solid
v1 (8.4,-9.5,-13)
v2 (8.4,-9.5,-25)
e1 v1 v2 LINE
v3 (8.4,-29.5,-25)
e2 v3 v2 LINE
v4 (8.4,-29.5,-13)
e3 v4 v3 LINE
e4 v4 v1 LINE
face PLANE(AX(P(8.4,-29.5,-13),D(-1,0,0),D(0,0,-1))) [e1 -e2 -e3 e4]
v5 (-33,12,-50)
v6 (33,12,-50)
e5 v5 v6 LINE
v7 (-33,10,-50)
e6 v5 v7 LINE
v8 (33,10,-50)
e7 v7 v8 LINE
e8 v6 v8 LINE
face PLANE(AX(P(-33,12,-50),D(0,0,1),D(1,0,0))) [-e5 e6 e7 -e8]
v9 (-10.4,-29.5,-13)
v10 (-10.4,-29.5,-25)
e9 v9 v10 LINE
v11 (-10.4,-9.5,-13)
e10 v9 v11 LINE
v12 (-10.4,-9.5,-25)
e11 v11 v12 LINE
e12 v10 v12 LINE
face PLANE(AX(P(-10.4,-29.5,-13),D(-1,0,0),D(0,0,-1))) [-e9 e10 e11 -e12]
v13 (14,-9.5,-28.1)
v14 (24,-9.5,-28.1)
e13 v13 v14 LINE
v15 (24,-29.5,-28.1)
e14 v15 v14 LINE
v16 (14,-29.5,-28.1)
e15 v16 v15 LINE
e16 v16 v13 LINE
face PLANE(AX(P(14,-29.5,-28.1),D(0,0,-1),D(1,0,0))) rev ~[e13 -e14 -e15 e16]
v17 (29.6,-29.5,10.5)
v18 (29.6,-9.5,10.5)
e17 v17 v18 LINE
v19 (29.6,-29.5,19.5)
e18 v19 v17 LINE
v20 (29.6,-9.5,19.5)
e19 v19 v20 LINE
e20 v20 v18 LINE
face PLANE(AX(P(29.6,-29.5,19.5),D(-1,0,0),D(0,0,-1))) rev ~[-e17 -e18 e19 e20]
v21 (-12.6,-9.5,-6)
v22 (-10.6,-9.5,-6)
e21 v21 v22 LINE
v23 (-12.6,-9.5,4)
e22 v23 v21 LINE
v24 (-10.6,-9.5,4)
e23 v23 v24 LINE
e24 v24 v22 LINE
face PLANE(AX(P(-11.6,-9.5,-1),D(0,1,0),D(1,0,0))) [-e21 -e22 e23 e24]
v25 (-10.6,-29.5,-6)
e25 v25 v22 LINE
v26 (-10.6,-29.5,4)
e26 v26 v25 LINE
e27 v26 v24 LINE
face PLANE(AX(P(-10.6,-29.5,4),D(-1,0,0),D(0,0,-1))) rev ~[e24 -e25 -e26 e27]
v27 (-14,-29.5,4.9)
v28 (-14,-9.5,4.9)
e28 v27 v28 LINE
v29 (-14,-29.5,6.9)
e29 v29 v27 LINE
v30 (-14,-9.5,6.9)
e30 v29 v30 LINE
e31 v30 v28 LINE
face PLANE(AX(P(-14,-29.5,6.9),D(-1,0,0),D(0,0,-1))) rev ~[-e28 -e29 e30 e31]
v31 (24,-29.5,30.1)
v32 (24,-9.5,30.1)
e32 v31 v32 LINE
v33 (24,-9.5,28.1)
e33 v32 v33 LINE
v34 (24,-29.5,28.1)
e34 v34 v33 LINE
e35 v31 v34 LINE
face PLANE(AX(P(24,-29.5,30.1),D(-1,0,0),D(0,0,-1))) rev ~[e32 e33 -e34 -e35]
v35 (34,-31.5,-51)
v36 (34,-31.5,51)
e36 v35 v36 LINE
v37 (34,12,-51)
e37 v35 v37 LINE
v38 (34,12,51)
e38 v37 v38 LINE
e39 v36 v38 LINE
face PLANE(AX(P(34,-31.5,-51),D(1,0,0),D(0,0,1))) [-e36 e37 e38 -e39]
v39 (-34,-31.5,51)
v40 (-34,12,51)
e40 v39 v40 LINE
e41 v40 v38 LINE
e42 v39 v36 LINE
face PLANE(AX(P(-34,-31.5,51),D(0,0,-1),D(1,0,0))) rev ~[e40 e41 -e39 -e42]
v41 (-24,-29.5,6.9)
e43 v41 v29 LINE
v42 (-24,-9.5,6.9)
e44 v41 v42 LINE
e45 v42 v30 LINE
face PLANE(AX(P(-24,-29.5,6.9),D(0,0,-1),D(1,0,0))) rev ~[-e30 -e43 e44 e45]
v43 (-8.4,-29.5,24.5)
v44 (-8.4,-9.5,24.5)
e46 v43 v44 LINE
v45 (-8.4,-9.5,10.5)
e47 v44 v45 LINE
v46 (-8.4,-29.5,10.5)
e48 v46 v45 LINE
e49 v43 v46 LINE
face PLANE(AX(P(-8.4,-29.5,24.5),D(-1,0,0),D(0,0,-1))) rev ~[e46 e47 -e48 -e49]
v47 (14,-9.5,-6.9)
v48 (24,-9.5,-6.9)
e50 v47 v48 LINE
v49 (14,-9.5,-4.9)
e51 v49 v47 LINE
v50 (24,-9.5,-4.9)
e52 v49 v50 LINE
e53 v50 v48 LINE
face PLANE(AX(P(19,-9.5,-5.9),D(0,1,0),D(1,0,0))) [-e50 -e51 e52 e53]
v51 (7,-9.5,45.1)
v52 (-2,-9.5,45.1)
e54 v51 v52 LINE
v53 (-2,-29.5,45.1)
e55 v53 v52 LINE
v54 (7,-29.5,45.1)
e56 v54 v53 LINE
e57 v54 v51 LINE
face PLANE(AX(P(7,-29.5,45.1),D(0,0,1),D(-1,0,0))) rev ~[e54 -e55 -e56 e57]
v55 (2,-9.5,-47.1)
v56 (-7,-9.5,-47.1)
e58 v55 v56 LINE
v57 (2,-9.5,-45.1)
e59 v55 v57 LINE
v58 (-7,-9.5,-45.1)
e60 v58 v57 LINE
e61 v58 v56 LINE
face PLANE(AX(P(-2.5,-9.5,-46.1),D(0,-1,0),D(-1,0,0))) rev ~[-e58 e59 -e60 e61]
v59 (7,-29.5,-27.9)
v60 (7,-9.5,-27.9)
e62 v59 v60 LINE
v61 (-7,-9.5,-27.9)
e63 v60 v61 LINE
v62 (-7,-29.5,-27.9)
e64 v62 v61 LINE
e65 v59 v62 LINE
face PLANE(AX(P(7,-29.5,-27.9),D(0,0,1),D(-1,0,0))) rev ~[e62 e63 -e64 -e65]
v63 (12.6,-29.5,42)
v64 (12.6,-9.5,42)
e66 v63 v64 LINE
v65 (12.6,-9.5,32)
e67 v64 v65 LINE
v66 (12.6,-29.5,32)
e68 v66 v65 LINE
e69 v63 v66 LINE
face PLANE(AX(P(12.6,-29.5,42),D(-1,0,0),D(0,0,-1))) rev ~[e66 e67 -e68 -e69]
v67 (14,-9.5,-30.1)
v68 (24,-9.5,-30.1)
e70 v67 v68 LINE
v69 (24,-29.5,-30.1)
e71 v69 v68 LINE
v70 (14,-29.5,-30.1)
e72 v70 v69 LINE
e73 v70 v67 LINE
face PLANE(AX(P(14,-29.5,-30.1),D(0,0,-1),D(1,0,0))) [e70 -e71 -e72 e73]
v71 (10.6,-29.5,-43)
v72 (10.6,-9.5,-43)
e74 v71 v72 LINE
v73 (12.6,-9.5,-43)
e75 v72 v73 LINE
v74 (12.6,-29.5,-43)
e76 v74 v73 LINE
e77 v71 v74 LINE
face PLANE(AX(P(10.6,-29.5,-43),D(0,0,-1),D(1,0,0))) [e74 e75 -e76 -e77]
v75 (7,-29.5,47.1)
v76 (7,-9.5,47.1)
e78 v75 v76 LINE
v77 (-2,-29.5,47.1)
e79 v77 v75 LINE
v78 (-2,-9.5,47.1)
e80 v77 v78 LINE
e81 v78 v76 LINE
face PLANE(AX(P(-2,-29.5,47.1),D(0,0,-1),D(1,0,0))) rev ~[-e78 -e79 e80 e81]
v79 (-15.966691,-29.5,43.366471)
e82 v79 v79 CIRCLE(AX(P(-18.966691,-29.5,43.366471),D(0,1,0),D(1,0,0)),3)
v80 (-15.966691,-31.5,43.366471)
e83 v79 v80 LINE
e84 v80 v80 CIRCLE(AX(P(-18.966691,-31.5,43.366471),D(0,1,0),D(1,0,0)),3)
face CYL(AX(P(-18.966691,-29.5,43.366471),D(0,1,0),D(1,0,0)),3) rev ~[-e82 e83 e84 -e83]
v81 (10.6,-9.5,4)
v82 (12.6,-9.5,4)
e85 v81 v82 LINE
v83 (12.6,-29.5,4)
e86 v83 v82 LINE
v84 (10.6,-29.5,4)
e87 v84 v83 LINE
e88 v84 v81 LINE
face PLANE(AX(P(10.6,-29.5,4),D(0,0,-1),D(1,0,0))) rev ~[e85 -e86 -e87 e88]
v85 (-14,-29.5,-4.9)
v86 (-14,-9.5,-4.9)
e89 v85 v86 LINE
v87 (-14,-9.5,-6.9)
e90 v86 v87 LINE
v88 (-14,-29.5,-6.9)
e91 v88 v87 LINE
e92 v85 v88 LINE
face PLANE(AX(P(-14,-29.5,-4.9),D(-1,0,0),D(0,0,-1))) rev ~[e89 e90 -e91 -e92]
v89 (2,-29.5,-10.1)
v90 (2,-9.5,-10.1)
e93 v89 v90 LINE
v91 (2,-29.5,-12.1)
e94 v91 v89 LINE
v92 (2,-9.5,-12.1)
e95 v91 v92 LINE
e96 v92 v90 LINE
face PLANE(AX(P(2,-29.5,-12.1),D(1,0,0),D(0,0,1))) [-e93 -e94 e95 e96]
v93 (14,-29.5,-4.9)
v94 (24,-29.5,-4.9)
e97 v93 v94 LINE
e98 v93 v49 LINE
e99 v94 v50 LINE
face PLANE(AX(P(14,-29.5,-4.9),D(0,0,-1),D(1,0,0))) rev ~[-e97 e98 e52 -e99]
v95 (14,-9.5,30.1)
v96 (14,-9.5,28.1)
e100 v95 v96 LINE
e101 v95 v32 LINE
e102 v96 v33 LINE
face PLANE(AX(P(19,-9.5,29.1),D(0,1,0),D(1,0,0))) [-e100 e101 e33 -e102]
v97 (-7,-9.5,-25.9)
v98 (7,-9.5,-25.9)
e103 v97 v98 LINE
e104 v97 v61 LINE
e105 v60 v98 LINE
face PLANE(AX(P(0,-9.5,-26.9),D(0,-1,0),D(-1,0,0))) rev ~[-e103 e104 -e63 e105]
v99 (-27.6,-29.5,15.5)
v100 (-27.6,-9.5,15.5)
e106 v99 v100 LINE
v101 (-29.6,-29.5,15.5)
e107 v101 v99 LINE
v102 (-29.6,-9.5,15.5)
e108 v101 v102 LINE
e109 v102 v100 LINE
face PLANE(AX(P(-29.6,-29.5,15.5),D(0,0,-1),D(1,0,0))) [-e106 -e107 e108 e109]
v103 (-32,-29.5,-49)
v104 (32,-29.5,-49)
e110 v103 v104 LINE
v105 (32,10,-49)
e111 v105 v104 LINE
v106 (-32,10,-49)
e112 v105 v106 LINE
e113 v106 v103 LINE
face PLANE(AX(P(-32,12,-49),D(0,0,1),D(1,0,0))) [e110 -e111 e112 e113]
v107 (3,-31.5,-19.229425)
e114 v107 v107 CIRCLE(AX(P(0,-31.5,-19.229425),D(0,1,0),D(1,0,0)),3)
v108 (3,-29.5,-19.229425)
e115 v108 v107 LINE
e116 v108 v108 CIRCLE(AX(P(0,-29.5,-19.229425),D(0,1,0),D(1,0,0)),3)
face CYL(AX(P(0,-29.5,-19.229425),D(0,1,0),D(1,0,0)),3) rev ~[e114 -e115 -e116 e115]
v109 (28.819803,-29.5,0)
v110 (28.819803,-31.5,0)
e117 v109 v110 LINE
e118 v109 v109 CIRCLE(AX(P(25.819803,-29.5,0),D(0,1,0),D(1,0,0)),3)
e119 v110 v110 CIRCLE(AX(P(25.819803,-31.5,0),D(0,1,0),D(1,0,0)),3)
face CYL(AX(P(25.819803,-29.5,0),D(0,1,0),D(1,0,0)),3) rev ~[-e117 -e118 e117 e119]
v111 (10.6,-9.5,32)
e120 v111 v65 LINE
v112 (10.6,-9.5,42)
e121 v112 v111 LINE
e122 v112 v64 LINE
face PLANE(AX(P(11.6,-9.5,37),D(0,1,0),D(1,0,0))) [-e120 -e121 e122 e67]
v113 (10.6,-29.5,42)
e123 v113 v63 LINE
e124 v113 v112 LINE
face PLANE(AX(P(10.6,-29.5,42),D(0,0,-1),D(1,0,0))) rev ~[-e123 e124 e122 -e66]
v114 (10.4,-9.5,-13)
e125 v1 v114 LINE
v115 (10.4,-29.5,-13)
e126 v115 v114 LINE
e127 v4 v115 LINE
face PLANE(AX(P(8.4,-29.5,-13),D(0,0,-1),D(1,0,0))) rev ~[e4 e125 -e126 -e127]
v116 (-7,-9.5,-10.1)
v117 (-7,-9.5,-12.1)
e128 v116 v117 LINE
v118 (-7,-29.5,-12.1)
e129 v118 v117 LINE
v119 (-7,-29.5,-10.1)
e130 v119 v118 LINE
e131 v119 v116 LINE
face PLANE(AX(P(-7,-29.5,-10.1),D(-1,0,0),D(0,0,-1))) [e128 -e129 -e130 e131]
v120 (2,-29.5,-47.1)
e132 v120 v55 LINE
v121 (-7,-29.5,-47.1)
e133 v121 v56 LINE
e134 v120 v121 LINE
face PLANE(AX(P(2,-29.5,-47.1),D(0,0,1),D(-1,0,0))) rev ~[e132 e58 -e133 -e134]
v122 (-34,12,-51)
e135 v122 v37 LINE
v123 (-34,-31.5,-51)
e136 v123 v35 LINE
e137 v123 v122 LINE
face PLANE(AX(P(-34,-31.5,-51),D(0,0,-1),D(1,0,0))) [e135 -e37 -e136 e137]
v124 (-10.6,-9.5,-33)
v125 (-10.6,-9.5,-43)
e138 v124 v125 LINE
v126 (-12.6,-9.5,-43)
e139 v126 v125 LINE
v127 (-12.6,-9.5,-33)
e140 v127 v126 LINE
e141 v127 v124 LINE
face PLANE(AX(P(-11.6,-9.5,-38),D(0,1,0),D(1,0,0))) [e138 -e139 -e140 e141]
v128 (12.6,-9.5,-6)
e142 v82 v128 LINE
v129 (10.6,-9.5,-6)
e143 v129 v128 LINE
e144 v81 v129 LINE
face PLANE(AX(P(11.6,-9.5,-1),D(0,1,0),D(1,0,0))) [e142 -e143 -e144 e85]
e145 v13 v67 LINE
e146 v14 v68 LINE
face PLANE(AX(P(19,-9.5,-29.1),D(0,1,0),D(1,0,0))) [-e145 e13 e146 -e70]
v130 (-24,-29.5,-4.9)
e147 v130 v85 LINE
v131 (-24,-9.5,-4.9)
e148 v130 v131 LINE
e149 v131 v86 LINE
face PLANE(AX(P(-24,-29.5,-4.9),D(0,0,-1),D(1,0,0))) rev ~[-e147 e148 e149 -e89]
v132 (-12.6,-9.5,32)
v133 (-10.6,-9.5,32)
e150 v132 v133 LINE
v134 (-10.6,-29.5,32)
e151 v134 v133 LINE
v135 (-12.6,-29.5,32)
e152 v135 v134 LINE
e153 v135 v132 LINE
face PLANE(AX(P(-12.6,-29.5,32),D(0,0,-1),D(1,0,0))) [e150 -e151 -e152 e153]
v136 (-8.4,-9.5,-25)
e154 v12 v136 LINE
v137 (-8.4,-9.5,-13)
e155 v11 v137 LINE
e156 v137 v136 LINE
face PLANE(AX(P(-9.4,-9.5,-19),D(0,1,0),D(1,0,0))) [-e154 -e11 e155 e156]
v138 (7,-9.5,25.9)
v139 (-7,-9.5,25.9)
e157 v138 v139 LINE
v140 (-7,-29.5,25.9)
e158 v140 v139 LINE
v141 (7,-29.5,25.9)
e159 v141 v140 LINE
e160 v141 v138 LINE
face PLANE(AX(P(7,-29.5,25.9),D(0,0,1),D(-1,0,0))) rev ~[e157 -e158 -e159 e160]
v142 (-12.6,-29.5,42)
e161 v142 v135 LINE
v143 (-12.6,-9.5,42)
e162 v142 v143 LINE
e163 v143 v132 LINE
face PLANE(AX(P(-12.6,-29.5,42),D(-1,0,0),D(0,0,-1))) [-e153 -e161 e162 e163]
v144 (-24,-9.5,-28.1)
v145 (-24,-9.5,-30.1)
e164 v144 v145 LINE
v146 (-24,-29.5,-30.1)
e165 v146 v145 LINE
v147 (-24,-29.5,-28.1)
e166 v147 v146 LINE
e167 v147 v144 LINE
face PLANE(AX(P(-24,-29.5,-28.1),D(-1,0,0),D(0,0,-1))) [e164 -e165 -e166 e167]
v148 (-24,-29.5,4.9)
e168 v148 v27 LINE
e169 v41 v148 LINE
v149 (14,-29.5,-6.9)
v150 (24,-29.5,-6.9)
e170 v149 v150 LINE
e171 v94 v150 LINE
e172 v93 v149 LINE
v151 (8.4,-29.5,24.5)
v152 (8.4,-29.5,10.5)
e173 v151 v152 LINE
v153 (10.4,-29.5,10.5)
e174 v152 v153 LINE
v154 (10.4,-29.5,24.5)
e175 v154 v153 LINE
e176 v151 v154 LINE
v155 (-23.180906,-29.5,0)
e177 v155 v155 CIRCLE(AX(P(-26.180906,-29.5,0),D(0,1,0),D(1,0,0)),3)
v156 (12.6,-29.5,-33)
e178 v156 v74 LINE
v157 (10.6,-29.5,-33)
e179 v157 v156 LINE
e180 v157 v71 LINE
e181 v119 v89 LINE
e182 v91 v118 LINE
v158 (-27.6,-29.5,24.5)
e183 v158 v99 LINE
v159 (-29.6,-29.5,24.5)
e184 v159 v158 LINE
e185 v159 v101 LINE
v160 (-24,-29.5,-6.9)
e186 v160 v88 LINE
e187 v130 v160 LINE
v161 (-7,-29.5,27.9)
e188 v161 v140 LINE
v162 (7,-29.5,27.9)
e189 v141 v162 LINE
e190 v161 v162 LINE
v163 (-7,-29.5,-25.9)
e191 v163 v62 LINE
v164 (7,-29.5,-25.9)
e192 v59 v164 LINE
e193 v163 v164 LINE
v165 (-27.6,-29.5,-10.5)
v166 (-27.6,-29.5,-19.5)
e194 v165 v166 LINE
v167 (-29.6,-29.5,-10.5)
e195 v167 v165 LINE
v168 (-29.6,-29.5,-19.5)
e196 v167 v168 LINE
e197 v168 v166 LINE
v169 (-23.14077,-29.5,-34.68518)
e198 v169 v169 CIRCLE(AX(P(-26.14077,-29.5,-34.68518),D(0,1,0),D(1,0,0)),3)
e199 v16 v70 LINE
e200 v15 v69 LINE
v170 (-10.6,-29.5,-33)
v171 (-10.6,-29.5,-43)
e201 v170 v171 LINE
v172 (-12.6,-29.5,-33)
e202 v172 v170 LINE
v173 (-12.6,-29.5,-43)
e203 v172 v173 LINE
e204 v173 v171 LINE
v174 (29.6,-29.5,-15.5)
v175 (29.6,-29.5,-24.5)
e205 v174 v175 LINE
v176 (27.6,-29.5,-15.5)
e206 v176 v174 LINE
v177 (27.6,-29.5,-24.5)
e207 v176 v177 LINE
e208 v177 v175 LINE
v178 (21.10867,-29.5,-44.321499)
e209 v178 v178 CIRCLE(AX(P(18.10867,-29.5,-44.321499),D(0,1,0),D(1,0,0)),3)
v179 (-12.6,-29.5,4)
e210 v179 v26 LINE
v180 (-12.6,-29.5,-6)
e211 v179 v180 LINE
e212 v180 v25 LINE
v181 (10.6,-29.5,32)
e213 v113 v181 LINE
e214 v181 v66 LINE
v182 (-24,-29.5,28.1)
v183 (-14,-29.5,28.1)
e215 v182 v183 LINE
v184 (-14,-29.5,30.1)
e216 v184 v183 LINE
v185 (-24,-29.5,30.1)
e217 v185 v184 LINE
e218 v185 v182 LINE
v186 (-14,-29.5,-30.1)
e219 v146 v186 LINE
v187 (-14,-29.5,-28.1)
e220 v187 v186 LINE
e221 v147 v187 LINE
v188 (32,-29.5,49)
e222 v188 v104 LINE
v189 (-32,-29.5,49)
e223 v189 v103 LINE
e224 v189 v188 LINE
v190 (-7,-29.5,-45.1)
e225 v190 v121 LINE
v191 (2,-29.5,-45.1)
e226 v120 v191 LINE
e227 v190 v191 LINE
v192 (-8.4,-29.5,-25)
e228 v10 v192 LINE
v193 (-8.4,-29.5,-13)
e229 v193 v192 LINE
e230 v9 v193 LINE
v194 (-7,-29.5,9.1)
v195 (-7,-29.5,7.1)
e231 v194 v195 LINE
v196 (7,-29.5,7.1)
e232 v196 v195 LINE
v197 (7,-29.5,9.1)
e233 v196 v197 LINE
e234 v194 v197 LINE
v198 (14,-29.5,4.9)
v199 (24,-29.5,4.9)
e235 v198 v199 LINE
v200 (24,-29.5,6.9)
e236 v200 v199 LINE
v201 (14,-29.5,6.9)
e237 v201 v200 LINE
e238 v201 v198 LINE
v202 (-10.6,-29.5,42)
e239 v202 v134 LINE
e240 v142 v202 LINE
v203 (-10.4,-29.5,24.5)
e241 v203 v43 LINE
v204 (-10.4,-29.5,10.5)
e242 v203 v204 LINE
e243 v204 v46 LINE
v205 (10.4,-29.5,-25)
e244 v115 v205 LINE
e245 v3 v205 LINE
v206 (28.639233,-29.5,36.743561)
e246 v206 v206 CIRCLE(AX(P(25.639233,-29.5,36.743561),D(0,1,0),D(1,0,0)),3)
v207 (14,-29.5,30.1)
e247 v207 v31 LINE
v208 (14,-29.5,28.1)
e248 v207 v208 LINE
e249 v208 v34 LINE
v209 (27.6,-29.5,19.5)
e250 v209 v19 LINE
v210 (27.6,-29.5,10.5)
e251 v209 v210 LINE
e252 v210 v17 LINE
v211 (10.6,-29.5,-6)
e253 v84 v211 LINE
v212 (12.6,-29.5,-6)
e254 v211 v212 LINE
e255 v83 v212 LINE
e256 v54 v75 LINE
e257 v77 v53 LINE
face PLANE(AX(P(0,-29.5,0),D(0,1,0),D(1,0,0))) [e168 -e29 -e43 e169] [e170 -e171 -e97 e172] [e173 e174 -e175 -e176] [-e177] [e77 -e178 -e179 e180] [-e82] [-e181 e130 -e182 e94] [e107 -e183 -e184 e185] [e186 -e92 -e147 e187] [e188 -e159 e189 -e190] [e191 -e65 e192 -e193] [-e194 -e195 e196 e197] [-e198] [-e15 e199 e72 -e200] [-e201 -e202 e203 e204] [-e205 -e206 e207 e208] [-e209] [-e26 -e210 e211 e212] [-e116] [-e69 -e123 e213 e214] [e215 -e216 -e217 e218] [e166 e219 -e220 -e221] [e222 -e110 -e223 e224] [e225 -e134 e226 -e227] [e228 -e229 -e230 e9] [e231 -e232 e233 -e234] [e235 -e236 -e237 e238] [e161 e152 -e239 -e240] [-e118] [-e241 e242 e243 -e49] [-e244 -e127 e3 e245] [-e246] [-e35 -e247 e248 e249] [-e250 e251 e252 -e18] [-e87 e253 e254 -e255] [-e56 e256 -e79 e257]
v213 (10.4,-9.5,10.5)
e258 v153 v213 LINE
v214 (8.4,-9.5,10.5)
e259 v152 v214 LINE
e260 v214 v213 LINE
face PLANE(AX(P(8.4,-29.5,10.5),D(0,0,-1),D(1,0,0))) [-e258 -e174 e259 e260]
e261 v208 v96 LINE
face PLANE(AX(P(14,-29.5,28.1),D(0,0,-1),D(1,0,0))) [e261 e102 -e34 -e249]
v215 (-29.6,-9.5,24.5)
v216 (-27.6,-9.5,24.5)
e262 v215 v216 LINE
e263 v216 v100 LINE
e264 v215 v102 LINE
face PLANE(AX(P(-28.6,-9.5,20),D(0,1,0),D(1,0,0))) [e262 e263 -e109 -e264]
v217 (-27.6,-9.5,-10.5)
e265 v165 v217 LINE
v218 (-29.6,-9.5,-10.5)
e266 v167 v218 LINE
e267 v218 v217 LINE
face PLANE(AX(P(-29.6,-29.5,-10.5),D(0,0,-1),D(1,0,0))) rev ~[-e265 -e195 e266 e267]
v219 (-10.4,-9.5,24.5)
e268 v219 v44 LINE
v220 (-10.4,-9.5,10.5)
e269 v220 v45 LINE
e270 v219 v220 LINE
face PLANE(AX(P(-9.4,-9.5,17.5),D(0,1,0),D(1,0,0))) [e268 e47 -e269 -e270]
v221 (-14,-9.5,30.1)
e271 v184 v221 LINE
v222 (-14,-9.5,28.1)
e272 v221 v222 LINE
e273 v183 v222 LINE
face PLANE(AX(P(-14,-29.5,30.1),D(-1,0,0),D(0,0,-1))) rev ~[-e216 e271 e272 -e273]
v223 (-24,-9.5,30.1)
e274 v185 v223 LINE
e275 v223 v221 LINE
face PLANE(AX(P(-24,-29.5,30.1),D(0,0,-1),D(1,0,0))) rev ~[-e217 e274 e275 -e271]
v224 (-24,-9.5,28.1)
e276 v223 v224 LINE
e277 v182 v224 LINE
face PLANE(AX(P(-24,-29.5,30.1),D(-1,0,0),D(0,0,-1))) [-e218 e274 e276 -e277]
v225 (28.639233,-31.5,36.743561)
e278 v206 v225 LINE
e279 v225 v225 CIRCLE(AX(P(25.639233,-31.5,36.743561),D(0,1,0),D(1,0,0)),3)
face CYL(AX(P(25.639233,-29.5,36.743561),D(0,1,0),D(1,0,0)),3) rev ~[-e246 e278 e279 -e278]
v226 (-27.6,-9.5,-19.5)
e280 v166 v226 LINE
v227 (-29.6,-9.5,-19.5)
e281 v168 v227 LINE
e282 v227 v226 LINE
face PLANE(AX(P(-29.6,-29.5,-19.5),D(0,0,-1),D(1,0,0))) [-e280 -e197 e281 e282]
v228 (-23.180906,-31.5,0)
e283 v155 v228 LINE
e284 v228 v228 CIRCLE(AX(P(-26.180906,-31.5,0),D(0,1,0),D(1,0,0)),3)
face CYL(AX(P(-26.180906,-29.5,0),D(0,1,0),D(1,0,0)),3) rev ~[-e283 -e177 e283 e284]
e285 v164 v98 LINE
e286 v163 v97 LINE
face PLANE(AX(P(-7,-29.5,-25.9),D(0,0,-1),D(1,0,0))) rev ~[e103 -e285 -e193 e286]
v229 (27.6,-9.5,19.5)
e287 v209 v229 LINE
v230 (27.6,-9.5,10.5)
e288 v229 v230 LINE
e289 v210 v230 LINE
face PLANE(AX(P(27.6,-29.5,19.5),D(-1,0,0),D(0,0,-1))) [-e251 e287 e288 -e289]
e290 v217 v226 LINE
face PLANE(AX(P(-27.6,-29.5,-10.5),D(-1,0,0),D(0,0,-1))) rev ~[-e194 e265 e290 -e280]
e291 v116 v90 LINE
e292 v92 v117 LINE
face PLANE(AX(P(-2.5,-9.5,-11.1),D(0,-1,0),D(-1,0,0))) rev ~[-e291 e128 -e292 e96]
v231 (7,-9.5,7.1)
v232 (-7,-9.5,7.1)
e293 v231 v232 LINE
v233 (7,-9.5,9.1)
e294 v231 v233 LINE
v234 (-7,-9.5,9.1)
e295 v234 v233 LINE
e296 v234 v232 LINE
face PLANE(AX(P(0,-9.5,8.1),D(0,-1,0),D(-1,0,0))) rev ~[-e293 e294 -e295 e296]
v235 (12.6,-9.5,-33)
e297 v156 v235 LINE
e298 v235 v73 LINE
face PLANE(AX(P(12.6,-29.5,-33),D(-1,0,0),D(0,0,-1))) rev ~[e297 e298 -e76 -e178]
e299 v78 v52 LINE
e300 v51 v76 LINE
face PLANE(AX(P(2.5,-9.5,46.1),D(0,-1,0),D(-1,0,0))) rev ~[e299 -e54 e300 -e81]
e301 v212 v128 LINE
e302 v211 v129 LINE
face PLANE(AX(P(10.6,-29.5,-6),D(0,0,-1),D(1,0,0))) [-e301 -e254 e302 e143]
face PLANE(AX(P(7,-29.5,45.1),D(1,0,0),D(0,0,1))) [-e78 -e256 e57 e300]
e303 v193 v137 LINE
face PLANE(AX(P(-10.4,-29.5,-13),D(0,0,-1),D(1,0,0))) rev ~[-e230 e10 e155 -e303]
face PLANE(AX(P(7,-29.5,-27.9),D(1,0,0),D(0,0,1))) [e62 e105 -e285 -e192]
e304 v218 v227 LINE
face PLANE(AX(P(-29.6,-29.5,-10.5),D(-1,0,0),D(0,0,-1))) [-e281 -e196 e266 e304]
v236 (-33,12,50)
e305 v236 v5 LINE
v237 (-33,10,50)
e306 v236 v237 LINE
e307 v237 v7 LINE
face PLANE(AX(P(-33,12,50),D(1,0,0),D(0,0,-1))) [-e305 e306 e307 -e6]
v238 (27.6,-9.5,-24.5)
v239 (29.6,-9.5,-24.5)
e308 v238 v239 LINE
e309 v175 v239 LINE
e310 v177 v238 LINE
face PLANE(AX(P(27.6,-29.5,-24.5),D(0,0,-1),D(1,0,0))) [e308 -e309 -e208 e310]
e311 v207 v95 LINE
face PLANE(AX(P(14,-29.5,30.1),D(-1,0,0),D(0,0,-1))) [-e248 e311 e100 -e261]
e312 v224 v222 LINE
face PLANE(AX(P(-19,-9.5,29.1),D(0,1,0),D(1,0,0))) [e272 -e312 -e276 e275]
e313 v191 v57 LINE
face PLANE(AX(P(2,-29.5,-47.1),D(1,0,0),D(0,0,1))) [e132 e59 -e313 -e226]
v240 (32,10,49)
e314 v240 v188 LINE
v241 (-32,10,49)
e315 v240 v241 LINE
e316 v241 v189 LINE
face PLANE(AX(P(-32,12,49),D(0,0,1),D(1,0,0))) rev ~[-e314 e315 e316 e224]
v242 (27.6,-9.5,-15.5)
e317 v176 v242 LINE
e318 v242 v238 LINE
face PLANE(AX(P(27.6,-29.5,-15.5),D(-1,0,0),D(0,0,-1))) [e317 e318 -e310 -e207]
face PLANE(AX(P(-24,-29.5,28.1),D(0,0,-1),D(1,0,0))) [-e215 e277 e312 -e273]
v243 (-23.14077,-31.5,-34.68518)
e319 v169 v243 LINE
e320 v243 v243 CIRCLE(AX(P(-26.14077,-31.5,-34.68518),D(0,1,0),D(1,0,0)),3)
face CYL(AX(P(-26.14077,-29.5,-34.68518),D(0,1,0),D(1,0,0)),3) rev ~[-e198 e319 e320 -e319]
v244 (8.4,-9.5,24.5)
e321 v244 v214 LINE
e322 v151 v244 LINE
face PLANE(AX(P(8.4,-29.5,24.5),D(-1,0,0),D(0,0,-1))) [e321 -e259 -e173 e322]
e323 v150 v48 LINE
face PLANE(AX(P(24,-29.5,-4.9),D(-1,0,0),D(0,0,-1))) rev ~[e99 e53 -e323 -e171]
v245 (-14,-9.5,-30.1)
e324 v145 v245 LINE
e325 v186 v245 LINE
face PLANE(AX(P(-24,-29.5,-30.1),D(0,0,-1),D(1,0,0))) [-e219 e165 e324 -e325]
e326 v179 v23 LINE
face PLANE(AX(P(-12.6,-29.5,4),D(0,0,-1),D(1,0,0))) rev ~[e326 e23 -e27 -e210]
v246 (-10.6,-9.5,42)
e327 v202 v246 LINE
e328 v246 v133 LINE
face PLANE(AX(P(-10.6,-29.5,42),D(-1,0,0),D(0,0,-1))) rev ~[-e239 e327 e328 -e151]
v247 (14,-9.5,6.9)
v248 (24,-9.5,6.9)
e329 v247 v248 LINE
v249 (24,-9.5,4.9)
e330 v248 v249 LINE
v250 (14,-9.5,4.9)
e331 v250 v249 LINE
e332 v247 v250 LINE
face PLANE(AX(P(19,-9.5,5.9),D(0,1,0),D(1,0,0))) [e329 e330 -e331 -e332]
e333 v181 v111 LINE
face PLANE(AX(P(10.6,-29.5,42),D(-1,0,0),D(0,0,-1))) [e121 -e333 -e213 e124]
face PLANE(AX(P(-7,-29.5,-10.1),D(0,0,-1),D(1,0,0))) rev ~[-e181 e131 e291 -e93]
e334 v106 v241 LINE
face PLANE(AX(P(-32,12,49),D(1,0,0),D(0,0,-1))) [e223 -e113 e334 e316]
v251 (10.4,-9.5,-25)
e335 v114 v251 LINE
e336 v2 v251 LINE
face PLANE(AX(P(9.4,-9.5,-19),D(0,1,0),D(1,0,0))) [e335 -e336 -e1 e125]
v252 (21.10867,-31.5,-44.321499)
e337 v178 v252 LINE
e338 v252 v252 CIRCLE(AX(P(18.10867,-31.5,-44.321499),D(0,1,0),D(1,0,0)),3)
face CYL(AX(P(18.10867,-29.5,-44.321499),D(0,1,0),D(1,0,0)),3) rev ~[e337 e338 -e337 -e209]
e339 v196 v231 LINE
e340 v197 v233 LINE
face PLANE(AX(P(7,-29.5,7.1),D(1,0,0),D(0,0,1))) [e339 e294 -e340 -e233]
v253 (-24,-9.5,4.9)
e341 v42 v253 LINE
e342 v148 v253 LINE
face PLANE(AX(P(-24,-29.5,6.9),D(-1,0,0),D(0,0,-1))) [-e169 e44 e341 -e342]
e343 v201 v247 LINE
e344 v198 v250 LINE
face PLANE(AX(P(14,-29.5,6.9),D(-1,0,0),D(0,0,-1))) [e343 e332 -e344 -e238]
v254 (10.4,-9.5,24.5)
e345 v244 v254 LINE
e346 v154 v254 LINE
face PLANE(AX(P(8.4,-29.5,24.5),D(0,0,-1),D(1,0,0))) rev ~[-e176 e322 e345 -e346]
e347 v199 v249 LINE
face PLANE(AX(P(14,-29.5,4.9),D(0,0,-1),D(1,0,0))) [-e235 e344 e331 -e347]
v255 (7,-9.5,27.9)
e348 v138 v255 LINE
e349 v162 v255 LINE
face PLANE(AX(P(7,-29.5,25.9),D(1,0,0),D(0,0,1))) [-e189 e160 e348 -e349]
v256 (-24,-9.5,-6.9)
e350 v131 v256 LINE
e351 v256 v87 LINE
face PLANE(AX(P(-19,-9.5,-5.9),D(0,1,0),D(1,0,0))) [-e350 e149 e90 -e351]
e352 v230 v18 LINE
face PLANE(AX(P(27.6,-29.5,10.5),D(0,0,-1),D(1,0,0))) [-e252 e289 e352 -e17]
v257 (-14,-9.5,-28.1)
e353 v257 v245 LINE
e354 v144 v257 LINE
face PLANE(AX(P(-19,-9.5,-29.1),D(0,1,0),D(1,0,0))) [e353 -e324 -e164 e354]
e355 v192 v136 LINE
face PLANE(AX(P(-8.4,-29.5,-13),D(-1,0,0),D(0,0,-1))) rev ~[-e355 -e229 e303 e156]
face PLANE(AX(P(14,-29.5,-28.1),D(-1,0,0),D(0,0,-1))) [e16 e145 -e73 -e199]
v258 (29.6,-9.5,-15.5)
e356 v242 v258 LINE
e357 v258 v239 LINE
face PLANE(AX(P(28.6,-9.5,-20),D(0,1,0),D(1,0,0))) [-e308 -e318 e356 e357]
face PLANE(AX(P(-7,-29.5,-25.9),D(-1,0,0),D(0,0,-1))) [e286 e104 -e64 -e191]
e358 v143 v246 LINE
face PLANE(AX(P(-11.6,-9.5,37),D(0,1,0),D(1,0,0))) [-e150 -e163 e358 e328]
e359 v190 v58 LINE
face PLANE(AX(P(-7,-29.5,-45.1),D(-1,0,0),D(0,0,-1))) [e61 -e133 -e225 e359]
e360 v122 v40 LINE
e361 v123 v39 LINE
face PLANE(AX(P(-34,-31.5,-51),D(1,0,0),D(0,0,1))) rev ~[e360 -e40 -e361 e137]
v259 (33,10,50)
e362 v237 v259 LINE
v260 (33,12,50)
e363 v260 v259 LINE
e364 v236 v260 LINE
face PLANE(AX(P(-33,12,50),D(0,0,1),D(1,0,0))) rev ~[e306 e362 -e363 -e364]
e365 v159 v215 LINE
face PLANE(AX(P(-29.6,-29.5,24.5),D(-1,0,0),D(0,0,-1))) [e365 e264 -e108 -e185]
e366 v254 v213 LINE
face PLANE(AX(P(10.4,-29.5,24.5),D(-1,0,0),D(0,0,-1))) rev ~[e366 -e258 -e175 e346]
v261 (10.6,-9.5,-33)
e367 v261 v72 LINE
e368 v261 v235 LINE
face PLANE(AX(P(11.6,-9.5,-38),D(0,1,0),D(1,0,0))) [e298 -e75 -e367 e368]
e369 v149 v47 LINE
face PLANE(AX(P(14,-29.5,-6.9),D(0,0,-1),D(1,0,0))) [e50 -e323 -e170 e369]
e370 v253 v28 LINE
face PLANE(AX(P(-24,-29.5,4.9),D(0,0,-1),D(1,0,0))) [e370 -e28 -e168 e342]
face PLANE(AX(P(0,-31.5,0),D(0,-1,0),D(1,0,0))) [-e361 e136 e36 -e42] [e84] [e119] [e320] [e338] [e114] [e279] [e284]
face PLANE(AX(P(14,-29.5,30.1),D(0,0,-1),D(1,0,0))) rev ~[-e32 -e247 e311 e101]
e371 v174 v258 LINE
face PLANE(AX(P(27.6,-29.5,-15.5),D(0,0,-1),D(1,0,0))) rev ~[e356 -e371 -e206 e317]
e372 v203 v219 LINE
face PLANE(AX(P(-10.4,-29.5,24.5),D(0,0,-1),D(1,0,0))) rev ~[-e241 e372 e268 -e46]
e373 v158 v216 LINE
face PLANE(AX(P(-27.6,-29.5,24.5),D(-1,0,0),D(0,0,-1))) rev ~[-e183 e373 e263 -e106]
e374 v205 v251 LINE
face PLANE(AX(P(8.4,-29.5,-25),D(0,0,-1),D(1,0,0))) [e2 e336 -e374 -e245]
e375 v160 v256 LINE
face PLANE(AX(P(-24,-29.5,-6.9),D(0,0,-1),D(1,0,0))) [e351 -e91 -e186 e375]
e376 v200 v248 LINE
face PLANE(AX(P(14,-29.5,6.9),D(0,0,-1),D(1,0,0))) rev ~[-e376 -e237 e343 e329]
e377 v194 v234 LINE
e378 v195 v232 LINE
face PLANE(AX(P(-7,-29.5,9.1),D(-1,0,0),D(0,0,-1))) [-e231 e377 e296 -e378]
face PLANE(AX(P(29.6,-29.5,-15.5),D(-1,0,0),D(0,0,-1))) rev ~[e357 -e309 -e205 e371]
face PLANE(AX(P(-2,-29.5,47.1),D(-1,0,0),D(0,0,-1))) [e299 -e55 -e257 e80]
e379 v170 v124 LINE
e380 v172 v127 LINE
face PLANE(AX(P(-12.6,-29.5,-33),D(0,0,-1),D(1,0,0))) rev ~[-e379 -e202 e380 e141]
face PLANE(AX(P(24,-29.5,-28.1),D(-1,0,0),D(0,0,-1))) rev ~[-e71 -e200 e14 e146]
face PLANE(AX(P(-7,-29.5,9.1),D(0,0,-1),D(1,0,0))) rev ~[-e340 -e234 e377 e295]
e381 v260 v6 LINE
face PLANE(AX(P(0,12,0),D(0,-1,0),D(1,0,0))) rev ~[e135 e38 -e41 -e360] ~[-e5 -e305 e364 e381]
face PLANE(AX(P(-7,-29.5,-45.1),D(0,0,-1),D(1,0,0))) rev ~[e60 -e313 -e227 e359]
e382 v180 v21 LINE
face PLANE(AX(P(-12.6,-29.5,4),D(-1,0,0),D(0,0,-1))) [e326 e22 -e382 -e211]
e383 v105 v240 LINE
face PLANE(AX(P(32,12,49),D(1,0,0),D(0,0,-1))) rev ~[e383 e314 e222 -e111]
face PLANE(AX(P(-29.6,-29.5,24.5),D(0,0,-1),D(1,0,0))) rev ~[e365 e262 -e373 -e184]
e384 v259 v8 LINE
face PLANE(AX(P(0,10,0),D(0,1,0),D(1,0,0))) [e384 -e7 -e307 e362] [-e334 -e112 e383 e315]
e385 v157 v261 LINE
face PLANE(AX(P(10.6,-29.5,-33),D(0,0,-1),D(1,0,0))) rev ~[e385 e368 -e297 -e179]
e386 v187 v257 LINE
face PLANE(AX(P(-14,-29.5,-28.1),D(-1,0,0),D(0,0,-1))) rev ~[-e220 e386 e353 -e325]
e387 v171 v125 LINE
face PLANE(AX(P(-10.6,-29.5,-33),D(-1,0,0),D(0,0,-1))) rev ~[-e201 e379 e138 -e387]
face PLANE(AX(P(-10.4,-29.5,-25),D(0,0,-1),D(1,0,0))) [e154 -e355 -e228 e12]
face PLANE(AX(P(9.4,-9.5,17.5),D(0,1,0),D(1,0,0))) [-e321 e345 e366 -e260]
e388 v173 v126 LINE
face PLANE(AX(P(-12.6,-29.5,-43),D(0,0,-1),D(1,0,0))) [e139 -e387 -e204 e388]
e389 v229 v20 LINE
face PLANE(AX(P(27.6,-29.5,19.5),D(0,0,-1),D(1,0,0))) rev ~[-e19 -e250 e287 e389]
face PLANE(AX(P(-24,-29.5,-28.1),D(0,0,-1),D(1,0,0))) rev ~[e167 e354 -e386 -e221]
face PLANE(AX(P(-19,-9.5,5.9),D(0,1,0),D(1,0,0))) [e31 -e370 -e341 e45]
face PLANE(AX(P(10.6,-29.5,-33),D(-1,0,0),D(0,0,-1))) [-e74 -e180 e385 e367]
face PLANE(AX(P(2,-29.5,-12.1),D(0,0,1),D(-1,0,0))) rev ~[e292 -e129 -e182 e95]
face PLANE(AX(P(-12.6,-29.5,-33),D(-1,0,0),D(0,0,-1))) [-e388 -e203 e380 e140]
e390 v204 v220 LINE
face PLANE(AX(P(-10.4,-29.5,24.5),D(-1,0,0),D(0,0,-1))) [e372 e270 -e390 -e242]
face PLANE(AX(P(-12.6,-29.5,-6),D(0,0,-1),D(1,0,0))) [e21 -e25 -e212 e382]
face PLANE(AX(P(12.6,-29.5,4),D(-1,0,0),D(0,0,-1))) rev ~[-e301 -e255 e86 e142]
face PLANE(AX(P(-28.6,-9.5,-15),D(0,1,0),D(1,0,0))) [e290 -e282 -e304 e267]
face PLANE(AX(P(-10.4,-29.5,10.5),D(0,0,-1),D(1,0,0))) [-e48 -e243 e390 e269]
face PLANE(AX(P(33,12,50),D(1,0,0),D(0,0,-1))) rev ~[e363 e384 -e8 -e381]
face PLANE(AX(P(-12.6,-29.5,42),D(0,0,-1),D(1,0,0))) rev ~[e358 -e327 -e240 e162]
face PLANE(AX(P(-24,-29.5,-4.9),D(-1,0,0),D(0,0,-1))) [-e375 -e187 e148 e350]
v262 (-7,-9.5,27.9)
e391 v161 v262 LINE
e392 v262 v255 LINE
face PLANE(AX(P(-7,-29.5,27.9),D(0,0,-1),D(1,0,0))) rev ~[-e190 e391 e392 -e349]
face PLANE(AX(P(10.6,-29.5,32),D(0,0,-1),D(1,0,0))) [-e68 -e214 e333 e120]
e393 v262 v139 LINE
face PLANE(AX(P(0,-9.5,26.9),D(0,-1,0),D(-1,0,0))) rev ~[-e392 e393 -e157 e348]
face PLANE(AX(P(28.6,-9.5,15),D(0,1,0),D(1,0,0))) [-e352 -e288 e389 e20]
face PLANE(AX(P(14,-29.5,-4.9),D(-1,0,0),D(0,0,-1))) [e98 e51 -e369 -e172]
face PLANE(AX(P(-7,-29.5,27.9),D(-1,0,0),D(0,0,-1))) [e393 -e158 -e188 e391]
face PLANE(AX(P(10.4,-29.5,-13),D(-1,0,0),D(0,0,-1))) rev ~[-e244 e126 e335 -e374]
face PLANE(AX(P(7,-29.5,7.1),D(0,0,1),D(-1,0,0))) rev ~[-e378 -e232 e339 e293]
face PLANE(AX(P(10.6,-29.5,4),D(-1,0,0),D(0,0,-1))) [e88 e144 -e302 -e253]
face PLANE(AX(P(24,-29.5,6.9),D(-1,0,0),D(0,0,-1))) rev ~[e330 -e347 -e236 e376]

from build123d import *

# Parameters (mm, degrees)
SKETCH287_W     = 68
SKETCH287_H     = 102
PAD198_DEPTH    = 43.5
SKETCH288_W     = 64
SKETCH288_H     = 98
POCKET042_DEPTH = 41.5
SKETCH289_W     = 66
SKETCH289_H     = 100
POCKET043_DEPTH = 2
SKETCH290_W     = 2
SKETCH290_H     = 9
SKETCH290_H_2   = 12
SKETCH290_H_3   = 14
SKETCH290_H_4   = 10
SKETCH290_W_2   = 10
SKETCH290_H_5   = 2
PAD199_DEPTH    = 20
SKETCH291_R     = 3
POCKET044_DEPTH = 5


with BuildPart() as part:
    # Sketch287 → Pad198 (new body)
    with BuildSketch(Plane.XZ):
        Rectangle(SKETCH287_W, SKETCH287_H)
    extrude(amount=-PAD198_DEPTH)

    # Sketch288 (on Face6 of Pad198) → Pocket042 (cut)
    with BuildSketch(Plane(origin=(0, 43.5, 0), x_dir=(1, 0, 0), z_dir=(0, 1, 0))):
        Rectangle(SKETCH288_W, SKETCH288_H)
    extrude(amount=-POCKET042_DEPTH, mode=Mode.SUBTRACT)

    # Sketch289 (on Face5 of Pocket042) → Pocket043 (cut)
    with BuildSketch(Plane(origin=(0, 43.5, 0), x_dir=(1, 0, 0), z_dir=(0, 1, 0))):
        Rectangle(SKETCH289_W, SKETCH289_H)
    extrude(amount=-POCKET043_DEPTH, mode=Mode.SUBTRACT)

    # Sketch290 (on Face16 of Pocket043) → Pad199 (join)
    with BuildSketch(Plane(origin=(0, 2, 0), x_dir=(1, 0, 0), z_dir=(0, 1, 0))):
        with Locations((28.6, 20)):
            Rectangle(SKETCH290_W, SKETCH290_H)
        with Locations((28.6, -15)):
            Rectangle(SKETCH290_W, SKETCH290_H)
        with Locations((9.4, 19)):
            Rectangle(SKETCH290_W, SKETCH290_H_2)
        with Locations((9.4, -17.5)):
            Rectangle(SKETCH290_W, SKETCH290_H_3)
        with Locations((11.6, 1)):
            Rectangle(SKETCH290_W, SKETCH290_H_4)
        with Locations((11.6, 38)):
            Rectangle(SKETCH290_W, SKETCH290_H_4)
        Polygon((0, 47.1), (2, 47.1), (2, 45.1), (0, 45.1), (-7, 45.1), (-7, 47.1), align=None)
        Polygon((0, 27.9), (7, 27.9), (7, 25.9), (0, 25.9), (-7, 25.9), (-7, 27.9), align=None)
        Polygon((0, 12.1), (2, 12.1), (2, 10.1), (0, 10.1), (-7, 10.1), (-7, 12.1), align=None)
        Polygon((0, -7.1), (7, -7.1), (7, -9.1), (0, -9.1), (-7, -9.1), (-7, -7.1), align=None)
        Polygon((0, -25.9), (7, -25.9), (7, -27.9), (0, -27.9), (-7, -27.9), (-7, -25.9), align=None)
        with Locations((11.6, -37)):
            Rectangle(SKETCH290_W, SKETCH290_H_4)
        Polygon((0, -45.1), (7, -45.1), (7, -47.1), (0, -47.1), (-2, -47.1), (-2, -45.1), align=None)
        with Locations((19, 5.9)):
            Rectangle(SKETCH290_W_2, SKETCH290_H_5)
        with Locations((19, -5.9)):
            Rectangle(SKETCH290_W_2, SKETCH290_H_5)
        with Locations((19, -29.1)):
            Rectangle(SKETCH290_W_2, SKETCH290_H_5)
        with Locations((19, 29.1)):
            Rectangle(SKETCH290_W_2, SKETCH290_H_5)
        with Locations((-28.6, 15)):
            Rectangle(SKETCH290_W, SKETCH290_H)
        with Locations((-28.6, -20)):
            Rectangle(SKETCH290_W, SKETCH290_H)
        with Locations((-9.4, 19)):
            Rectangle(SKETCH290_W, SKETCH290_H_2)
        with Locations((-9.4, -17.5)):
            Rectangle(SKETCH290_W, SKETCH290_H_3)
        with Locations((-11.6, 1)):
            Rectangle(SKETCH290_W, SKETCH290_H_4)
        with Locations((-11.6, 38)):
            Rectangle(SKETCH290_W, SKETCH290_H_4)
        with Locations((-11.6, -37)):
            Rectangle(SKETCH290_W, SKETCH290_H_4)
        with Locations((-19, 5.9)):
            Rectangle(SKETCH290_W_2, SKETCH290_H_5)
        with Locations((-19, -5.9)):
            Rectangle(SKETCH290_W_2, SKETCH290_H_5)
        with Locations((-19, -29.1)):
            Rectangle(SKETCH290_W_2, SKETCH290_H_5)
        with Locations((-19, 29.1)):
            Rectangle(SKETCH290_W_2, SKETCH290_H_5)
    extrude(amount=PAD199_DEPTH)

    # Sketch291 (on Face16 of Pad199) → Pocket044 (cut)
    with BuildSketch(Plane(origin=(0, 2, 0), x_dir=(1, 0, 0), z_dir=(0, 1, 0))):
        with Locations((-26.14077, 34.68518)):
            Circle(SKETCH291_R)
        with Locations((18.10867, 44.321499)):
            Circle(SKETCH291_R)
        with Locations((25.819803, 0)):
            Circle(SKETCH291_R)
        with Locations((25.639233, -36.743561)):
            Circle(SKETCH291_R)
        with Locations((-18.966691, -43.366471)):
            Circle(SKETCH291_R)
        with Locations((-26.180906, 0)):
            Circle(SKETCH291_R)
        with Locations((0, 19.229425)):
            Circle(SKETCH291_R)
    extrude(amount=-POCKET044_DEPTH, mode=Mode.SUBTRACT)


with BuildPart() as part_1:
    # Body062 placement: moved
    add(part.part.moved(Location((0, -31.5, 0))))


solid = part_1.part
